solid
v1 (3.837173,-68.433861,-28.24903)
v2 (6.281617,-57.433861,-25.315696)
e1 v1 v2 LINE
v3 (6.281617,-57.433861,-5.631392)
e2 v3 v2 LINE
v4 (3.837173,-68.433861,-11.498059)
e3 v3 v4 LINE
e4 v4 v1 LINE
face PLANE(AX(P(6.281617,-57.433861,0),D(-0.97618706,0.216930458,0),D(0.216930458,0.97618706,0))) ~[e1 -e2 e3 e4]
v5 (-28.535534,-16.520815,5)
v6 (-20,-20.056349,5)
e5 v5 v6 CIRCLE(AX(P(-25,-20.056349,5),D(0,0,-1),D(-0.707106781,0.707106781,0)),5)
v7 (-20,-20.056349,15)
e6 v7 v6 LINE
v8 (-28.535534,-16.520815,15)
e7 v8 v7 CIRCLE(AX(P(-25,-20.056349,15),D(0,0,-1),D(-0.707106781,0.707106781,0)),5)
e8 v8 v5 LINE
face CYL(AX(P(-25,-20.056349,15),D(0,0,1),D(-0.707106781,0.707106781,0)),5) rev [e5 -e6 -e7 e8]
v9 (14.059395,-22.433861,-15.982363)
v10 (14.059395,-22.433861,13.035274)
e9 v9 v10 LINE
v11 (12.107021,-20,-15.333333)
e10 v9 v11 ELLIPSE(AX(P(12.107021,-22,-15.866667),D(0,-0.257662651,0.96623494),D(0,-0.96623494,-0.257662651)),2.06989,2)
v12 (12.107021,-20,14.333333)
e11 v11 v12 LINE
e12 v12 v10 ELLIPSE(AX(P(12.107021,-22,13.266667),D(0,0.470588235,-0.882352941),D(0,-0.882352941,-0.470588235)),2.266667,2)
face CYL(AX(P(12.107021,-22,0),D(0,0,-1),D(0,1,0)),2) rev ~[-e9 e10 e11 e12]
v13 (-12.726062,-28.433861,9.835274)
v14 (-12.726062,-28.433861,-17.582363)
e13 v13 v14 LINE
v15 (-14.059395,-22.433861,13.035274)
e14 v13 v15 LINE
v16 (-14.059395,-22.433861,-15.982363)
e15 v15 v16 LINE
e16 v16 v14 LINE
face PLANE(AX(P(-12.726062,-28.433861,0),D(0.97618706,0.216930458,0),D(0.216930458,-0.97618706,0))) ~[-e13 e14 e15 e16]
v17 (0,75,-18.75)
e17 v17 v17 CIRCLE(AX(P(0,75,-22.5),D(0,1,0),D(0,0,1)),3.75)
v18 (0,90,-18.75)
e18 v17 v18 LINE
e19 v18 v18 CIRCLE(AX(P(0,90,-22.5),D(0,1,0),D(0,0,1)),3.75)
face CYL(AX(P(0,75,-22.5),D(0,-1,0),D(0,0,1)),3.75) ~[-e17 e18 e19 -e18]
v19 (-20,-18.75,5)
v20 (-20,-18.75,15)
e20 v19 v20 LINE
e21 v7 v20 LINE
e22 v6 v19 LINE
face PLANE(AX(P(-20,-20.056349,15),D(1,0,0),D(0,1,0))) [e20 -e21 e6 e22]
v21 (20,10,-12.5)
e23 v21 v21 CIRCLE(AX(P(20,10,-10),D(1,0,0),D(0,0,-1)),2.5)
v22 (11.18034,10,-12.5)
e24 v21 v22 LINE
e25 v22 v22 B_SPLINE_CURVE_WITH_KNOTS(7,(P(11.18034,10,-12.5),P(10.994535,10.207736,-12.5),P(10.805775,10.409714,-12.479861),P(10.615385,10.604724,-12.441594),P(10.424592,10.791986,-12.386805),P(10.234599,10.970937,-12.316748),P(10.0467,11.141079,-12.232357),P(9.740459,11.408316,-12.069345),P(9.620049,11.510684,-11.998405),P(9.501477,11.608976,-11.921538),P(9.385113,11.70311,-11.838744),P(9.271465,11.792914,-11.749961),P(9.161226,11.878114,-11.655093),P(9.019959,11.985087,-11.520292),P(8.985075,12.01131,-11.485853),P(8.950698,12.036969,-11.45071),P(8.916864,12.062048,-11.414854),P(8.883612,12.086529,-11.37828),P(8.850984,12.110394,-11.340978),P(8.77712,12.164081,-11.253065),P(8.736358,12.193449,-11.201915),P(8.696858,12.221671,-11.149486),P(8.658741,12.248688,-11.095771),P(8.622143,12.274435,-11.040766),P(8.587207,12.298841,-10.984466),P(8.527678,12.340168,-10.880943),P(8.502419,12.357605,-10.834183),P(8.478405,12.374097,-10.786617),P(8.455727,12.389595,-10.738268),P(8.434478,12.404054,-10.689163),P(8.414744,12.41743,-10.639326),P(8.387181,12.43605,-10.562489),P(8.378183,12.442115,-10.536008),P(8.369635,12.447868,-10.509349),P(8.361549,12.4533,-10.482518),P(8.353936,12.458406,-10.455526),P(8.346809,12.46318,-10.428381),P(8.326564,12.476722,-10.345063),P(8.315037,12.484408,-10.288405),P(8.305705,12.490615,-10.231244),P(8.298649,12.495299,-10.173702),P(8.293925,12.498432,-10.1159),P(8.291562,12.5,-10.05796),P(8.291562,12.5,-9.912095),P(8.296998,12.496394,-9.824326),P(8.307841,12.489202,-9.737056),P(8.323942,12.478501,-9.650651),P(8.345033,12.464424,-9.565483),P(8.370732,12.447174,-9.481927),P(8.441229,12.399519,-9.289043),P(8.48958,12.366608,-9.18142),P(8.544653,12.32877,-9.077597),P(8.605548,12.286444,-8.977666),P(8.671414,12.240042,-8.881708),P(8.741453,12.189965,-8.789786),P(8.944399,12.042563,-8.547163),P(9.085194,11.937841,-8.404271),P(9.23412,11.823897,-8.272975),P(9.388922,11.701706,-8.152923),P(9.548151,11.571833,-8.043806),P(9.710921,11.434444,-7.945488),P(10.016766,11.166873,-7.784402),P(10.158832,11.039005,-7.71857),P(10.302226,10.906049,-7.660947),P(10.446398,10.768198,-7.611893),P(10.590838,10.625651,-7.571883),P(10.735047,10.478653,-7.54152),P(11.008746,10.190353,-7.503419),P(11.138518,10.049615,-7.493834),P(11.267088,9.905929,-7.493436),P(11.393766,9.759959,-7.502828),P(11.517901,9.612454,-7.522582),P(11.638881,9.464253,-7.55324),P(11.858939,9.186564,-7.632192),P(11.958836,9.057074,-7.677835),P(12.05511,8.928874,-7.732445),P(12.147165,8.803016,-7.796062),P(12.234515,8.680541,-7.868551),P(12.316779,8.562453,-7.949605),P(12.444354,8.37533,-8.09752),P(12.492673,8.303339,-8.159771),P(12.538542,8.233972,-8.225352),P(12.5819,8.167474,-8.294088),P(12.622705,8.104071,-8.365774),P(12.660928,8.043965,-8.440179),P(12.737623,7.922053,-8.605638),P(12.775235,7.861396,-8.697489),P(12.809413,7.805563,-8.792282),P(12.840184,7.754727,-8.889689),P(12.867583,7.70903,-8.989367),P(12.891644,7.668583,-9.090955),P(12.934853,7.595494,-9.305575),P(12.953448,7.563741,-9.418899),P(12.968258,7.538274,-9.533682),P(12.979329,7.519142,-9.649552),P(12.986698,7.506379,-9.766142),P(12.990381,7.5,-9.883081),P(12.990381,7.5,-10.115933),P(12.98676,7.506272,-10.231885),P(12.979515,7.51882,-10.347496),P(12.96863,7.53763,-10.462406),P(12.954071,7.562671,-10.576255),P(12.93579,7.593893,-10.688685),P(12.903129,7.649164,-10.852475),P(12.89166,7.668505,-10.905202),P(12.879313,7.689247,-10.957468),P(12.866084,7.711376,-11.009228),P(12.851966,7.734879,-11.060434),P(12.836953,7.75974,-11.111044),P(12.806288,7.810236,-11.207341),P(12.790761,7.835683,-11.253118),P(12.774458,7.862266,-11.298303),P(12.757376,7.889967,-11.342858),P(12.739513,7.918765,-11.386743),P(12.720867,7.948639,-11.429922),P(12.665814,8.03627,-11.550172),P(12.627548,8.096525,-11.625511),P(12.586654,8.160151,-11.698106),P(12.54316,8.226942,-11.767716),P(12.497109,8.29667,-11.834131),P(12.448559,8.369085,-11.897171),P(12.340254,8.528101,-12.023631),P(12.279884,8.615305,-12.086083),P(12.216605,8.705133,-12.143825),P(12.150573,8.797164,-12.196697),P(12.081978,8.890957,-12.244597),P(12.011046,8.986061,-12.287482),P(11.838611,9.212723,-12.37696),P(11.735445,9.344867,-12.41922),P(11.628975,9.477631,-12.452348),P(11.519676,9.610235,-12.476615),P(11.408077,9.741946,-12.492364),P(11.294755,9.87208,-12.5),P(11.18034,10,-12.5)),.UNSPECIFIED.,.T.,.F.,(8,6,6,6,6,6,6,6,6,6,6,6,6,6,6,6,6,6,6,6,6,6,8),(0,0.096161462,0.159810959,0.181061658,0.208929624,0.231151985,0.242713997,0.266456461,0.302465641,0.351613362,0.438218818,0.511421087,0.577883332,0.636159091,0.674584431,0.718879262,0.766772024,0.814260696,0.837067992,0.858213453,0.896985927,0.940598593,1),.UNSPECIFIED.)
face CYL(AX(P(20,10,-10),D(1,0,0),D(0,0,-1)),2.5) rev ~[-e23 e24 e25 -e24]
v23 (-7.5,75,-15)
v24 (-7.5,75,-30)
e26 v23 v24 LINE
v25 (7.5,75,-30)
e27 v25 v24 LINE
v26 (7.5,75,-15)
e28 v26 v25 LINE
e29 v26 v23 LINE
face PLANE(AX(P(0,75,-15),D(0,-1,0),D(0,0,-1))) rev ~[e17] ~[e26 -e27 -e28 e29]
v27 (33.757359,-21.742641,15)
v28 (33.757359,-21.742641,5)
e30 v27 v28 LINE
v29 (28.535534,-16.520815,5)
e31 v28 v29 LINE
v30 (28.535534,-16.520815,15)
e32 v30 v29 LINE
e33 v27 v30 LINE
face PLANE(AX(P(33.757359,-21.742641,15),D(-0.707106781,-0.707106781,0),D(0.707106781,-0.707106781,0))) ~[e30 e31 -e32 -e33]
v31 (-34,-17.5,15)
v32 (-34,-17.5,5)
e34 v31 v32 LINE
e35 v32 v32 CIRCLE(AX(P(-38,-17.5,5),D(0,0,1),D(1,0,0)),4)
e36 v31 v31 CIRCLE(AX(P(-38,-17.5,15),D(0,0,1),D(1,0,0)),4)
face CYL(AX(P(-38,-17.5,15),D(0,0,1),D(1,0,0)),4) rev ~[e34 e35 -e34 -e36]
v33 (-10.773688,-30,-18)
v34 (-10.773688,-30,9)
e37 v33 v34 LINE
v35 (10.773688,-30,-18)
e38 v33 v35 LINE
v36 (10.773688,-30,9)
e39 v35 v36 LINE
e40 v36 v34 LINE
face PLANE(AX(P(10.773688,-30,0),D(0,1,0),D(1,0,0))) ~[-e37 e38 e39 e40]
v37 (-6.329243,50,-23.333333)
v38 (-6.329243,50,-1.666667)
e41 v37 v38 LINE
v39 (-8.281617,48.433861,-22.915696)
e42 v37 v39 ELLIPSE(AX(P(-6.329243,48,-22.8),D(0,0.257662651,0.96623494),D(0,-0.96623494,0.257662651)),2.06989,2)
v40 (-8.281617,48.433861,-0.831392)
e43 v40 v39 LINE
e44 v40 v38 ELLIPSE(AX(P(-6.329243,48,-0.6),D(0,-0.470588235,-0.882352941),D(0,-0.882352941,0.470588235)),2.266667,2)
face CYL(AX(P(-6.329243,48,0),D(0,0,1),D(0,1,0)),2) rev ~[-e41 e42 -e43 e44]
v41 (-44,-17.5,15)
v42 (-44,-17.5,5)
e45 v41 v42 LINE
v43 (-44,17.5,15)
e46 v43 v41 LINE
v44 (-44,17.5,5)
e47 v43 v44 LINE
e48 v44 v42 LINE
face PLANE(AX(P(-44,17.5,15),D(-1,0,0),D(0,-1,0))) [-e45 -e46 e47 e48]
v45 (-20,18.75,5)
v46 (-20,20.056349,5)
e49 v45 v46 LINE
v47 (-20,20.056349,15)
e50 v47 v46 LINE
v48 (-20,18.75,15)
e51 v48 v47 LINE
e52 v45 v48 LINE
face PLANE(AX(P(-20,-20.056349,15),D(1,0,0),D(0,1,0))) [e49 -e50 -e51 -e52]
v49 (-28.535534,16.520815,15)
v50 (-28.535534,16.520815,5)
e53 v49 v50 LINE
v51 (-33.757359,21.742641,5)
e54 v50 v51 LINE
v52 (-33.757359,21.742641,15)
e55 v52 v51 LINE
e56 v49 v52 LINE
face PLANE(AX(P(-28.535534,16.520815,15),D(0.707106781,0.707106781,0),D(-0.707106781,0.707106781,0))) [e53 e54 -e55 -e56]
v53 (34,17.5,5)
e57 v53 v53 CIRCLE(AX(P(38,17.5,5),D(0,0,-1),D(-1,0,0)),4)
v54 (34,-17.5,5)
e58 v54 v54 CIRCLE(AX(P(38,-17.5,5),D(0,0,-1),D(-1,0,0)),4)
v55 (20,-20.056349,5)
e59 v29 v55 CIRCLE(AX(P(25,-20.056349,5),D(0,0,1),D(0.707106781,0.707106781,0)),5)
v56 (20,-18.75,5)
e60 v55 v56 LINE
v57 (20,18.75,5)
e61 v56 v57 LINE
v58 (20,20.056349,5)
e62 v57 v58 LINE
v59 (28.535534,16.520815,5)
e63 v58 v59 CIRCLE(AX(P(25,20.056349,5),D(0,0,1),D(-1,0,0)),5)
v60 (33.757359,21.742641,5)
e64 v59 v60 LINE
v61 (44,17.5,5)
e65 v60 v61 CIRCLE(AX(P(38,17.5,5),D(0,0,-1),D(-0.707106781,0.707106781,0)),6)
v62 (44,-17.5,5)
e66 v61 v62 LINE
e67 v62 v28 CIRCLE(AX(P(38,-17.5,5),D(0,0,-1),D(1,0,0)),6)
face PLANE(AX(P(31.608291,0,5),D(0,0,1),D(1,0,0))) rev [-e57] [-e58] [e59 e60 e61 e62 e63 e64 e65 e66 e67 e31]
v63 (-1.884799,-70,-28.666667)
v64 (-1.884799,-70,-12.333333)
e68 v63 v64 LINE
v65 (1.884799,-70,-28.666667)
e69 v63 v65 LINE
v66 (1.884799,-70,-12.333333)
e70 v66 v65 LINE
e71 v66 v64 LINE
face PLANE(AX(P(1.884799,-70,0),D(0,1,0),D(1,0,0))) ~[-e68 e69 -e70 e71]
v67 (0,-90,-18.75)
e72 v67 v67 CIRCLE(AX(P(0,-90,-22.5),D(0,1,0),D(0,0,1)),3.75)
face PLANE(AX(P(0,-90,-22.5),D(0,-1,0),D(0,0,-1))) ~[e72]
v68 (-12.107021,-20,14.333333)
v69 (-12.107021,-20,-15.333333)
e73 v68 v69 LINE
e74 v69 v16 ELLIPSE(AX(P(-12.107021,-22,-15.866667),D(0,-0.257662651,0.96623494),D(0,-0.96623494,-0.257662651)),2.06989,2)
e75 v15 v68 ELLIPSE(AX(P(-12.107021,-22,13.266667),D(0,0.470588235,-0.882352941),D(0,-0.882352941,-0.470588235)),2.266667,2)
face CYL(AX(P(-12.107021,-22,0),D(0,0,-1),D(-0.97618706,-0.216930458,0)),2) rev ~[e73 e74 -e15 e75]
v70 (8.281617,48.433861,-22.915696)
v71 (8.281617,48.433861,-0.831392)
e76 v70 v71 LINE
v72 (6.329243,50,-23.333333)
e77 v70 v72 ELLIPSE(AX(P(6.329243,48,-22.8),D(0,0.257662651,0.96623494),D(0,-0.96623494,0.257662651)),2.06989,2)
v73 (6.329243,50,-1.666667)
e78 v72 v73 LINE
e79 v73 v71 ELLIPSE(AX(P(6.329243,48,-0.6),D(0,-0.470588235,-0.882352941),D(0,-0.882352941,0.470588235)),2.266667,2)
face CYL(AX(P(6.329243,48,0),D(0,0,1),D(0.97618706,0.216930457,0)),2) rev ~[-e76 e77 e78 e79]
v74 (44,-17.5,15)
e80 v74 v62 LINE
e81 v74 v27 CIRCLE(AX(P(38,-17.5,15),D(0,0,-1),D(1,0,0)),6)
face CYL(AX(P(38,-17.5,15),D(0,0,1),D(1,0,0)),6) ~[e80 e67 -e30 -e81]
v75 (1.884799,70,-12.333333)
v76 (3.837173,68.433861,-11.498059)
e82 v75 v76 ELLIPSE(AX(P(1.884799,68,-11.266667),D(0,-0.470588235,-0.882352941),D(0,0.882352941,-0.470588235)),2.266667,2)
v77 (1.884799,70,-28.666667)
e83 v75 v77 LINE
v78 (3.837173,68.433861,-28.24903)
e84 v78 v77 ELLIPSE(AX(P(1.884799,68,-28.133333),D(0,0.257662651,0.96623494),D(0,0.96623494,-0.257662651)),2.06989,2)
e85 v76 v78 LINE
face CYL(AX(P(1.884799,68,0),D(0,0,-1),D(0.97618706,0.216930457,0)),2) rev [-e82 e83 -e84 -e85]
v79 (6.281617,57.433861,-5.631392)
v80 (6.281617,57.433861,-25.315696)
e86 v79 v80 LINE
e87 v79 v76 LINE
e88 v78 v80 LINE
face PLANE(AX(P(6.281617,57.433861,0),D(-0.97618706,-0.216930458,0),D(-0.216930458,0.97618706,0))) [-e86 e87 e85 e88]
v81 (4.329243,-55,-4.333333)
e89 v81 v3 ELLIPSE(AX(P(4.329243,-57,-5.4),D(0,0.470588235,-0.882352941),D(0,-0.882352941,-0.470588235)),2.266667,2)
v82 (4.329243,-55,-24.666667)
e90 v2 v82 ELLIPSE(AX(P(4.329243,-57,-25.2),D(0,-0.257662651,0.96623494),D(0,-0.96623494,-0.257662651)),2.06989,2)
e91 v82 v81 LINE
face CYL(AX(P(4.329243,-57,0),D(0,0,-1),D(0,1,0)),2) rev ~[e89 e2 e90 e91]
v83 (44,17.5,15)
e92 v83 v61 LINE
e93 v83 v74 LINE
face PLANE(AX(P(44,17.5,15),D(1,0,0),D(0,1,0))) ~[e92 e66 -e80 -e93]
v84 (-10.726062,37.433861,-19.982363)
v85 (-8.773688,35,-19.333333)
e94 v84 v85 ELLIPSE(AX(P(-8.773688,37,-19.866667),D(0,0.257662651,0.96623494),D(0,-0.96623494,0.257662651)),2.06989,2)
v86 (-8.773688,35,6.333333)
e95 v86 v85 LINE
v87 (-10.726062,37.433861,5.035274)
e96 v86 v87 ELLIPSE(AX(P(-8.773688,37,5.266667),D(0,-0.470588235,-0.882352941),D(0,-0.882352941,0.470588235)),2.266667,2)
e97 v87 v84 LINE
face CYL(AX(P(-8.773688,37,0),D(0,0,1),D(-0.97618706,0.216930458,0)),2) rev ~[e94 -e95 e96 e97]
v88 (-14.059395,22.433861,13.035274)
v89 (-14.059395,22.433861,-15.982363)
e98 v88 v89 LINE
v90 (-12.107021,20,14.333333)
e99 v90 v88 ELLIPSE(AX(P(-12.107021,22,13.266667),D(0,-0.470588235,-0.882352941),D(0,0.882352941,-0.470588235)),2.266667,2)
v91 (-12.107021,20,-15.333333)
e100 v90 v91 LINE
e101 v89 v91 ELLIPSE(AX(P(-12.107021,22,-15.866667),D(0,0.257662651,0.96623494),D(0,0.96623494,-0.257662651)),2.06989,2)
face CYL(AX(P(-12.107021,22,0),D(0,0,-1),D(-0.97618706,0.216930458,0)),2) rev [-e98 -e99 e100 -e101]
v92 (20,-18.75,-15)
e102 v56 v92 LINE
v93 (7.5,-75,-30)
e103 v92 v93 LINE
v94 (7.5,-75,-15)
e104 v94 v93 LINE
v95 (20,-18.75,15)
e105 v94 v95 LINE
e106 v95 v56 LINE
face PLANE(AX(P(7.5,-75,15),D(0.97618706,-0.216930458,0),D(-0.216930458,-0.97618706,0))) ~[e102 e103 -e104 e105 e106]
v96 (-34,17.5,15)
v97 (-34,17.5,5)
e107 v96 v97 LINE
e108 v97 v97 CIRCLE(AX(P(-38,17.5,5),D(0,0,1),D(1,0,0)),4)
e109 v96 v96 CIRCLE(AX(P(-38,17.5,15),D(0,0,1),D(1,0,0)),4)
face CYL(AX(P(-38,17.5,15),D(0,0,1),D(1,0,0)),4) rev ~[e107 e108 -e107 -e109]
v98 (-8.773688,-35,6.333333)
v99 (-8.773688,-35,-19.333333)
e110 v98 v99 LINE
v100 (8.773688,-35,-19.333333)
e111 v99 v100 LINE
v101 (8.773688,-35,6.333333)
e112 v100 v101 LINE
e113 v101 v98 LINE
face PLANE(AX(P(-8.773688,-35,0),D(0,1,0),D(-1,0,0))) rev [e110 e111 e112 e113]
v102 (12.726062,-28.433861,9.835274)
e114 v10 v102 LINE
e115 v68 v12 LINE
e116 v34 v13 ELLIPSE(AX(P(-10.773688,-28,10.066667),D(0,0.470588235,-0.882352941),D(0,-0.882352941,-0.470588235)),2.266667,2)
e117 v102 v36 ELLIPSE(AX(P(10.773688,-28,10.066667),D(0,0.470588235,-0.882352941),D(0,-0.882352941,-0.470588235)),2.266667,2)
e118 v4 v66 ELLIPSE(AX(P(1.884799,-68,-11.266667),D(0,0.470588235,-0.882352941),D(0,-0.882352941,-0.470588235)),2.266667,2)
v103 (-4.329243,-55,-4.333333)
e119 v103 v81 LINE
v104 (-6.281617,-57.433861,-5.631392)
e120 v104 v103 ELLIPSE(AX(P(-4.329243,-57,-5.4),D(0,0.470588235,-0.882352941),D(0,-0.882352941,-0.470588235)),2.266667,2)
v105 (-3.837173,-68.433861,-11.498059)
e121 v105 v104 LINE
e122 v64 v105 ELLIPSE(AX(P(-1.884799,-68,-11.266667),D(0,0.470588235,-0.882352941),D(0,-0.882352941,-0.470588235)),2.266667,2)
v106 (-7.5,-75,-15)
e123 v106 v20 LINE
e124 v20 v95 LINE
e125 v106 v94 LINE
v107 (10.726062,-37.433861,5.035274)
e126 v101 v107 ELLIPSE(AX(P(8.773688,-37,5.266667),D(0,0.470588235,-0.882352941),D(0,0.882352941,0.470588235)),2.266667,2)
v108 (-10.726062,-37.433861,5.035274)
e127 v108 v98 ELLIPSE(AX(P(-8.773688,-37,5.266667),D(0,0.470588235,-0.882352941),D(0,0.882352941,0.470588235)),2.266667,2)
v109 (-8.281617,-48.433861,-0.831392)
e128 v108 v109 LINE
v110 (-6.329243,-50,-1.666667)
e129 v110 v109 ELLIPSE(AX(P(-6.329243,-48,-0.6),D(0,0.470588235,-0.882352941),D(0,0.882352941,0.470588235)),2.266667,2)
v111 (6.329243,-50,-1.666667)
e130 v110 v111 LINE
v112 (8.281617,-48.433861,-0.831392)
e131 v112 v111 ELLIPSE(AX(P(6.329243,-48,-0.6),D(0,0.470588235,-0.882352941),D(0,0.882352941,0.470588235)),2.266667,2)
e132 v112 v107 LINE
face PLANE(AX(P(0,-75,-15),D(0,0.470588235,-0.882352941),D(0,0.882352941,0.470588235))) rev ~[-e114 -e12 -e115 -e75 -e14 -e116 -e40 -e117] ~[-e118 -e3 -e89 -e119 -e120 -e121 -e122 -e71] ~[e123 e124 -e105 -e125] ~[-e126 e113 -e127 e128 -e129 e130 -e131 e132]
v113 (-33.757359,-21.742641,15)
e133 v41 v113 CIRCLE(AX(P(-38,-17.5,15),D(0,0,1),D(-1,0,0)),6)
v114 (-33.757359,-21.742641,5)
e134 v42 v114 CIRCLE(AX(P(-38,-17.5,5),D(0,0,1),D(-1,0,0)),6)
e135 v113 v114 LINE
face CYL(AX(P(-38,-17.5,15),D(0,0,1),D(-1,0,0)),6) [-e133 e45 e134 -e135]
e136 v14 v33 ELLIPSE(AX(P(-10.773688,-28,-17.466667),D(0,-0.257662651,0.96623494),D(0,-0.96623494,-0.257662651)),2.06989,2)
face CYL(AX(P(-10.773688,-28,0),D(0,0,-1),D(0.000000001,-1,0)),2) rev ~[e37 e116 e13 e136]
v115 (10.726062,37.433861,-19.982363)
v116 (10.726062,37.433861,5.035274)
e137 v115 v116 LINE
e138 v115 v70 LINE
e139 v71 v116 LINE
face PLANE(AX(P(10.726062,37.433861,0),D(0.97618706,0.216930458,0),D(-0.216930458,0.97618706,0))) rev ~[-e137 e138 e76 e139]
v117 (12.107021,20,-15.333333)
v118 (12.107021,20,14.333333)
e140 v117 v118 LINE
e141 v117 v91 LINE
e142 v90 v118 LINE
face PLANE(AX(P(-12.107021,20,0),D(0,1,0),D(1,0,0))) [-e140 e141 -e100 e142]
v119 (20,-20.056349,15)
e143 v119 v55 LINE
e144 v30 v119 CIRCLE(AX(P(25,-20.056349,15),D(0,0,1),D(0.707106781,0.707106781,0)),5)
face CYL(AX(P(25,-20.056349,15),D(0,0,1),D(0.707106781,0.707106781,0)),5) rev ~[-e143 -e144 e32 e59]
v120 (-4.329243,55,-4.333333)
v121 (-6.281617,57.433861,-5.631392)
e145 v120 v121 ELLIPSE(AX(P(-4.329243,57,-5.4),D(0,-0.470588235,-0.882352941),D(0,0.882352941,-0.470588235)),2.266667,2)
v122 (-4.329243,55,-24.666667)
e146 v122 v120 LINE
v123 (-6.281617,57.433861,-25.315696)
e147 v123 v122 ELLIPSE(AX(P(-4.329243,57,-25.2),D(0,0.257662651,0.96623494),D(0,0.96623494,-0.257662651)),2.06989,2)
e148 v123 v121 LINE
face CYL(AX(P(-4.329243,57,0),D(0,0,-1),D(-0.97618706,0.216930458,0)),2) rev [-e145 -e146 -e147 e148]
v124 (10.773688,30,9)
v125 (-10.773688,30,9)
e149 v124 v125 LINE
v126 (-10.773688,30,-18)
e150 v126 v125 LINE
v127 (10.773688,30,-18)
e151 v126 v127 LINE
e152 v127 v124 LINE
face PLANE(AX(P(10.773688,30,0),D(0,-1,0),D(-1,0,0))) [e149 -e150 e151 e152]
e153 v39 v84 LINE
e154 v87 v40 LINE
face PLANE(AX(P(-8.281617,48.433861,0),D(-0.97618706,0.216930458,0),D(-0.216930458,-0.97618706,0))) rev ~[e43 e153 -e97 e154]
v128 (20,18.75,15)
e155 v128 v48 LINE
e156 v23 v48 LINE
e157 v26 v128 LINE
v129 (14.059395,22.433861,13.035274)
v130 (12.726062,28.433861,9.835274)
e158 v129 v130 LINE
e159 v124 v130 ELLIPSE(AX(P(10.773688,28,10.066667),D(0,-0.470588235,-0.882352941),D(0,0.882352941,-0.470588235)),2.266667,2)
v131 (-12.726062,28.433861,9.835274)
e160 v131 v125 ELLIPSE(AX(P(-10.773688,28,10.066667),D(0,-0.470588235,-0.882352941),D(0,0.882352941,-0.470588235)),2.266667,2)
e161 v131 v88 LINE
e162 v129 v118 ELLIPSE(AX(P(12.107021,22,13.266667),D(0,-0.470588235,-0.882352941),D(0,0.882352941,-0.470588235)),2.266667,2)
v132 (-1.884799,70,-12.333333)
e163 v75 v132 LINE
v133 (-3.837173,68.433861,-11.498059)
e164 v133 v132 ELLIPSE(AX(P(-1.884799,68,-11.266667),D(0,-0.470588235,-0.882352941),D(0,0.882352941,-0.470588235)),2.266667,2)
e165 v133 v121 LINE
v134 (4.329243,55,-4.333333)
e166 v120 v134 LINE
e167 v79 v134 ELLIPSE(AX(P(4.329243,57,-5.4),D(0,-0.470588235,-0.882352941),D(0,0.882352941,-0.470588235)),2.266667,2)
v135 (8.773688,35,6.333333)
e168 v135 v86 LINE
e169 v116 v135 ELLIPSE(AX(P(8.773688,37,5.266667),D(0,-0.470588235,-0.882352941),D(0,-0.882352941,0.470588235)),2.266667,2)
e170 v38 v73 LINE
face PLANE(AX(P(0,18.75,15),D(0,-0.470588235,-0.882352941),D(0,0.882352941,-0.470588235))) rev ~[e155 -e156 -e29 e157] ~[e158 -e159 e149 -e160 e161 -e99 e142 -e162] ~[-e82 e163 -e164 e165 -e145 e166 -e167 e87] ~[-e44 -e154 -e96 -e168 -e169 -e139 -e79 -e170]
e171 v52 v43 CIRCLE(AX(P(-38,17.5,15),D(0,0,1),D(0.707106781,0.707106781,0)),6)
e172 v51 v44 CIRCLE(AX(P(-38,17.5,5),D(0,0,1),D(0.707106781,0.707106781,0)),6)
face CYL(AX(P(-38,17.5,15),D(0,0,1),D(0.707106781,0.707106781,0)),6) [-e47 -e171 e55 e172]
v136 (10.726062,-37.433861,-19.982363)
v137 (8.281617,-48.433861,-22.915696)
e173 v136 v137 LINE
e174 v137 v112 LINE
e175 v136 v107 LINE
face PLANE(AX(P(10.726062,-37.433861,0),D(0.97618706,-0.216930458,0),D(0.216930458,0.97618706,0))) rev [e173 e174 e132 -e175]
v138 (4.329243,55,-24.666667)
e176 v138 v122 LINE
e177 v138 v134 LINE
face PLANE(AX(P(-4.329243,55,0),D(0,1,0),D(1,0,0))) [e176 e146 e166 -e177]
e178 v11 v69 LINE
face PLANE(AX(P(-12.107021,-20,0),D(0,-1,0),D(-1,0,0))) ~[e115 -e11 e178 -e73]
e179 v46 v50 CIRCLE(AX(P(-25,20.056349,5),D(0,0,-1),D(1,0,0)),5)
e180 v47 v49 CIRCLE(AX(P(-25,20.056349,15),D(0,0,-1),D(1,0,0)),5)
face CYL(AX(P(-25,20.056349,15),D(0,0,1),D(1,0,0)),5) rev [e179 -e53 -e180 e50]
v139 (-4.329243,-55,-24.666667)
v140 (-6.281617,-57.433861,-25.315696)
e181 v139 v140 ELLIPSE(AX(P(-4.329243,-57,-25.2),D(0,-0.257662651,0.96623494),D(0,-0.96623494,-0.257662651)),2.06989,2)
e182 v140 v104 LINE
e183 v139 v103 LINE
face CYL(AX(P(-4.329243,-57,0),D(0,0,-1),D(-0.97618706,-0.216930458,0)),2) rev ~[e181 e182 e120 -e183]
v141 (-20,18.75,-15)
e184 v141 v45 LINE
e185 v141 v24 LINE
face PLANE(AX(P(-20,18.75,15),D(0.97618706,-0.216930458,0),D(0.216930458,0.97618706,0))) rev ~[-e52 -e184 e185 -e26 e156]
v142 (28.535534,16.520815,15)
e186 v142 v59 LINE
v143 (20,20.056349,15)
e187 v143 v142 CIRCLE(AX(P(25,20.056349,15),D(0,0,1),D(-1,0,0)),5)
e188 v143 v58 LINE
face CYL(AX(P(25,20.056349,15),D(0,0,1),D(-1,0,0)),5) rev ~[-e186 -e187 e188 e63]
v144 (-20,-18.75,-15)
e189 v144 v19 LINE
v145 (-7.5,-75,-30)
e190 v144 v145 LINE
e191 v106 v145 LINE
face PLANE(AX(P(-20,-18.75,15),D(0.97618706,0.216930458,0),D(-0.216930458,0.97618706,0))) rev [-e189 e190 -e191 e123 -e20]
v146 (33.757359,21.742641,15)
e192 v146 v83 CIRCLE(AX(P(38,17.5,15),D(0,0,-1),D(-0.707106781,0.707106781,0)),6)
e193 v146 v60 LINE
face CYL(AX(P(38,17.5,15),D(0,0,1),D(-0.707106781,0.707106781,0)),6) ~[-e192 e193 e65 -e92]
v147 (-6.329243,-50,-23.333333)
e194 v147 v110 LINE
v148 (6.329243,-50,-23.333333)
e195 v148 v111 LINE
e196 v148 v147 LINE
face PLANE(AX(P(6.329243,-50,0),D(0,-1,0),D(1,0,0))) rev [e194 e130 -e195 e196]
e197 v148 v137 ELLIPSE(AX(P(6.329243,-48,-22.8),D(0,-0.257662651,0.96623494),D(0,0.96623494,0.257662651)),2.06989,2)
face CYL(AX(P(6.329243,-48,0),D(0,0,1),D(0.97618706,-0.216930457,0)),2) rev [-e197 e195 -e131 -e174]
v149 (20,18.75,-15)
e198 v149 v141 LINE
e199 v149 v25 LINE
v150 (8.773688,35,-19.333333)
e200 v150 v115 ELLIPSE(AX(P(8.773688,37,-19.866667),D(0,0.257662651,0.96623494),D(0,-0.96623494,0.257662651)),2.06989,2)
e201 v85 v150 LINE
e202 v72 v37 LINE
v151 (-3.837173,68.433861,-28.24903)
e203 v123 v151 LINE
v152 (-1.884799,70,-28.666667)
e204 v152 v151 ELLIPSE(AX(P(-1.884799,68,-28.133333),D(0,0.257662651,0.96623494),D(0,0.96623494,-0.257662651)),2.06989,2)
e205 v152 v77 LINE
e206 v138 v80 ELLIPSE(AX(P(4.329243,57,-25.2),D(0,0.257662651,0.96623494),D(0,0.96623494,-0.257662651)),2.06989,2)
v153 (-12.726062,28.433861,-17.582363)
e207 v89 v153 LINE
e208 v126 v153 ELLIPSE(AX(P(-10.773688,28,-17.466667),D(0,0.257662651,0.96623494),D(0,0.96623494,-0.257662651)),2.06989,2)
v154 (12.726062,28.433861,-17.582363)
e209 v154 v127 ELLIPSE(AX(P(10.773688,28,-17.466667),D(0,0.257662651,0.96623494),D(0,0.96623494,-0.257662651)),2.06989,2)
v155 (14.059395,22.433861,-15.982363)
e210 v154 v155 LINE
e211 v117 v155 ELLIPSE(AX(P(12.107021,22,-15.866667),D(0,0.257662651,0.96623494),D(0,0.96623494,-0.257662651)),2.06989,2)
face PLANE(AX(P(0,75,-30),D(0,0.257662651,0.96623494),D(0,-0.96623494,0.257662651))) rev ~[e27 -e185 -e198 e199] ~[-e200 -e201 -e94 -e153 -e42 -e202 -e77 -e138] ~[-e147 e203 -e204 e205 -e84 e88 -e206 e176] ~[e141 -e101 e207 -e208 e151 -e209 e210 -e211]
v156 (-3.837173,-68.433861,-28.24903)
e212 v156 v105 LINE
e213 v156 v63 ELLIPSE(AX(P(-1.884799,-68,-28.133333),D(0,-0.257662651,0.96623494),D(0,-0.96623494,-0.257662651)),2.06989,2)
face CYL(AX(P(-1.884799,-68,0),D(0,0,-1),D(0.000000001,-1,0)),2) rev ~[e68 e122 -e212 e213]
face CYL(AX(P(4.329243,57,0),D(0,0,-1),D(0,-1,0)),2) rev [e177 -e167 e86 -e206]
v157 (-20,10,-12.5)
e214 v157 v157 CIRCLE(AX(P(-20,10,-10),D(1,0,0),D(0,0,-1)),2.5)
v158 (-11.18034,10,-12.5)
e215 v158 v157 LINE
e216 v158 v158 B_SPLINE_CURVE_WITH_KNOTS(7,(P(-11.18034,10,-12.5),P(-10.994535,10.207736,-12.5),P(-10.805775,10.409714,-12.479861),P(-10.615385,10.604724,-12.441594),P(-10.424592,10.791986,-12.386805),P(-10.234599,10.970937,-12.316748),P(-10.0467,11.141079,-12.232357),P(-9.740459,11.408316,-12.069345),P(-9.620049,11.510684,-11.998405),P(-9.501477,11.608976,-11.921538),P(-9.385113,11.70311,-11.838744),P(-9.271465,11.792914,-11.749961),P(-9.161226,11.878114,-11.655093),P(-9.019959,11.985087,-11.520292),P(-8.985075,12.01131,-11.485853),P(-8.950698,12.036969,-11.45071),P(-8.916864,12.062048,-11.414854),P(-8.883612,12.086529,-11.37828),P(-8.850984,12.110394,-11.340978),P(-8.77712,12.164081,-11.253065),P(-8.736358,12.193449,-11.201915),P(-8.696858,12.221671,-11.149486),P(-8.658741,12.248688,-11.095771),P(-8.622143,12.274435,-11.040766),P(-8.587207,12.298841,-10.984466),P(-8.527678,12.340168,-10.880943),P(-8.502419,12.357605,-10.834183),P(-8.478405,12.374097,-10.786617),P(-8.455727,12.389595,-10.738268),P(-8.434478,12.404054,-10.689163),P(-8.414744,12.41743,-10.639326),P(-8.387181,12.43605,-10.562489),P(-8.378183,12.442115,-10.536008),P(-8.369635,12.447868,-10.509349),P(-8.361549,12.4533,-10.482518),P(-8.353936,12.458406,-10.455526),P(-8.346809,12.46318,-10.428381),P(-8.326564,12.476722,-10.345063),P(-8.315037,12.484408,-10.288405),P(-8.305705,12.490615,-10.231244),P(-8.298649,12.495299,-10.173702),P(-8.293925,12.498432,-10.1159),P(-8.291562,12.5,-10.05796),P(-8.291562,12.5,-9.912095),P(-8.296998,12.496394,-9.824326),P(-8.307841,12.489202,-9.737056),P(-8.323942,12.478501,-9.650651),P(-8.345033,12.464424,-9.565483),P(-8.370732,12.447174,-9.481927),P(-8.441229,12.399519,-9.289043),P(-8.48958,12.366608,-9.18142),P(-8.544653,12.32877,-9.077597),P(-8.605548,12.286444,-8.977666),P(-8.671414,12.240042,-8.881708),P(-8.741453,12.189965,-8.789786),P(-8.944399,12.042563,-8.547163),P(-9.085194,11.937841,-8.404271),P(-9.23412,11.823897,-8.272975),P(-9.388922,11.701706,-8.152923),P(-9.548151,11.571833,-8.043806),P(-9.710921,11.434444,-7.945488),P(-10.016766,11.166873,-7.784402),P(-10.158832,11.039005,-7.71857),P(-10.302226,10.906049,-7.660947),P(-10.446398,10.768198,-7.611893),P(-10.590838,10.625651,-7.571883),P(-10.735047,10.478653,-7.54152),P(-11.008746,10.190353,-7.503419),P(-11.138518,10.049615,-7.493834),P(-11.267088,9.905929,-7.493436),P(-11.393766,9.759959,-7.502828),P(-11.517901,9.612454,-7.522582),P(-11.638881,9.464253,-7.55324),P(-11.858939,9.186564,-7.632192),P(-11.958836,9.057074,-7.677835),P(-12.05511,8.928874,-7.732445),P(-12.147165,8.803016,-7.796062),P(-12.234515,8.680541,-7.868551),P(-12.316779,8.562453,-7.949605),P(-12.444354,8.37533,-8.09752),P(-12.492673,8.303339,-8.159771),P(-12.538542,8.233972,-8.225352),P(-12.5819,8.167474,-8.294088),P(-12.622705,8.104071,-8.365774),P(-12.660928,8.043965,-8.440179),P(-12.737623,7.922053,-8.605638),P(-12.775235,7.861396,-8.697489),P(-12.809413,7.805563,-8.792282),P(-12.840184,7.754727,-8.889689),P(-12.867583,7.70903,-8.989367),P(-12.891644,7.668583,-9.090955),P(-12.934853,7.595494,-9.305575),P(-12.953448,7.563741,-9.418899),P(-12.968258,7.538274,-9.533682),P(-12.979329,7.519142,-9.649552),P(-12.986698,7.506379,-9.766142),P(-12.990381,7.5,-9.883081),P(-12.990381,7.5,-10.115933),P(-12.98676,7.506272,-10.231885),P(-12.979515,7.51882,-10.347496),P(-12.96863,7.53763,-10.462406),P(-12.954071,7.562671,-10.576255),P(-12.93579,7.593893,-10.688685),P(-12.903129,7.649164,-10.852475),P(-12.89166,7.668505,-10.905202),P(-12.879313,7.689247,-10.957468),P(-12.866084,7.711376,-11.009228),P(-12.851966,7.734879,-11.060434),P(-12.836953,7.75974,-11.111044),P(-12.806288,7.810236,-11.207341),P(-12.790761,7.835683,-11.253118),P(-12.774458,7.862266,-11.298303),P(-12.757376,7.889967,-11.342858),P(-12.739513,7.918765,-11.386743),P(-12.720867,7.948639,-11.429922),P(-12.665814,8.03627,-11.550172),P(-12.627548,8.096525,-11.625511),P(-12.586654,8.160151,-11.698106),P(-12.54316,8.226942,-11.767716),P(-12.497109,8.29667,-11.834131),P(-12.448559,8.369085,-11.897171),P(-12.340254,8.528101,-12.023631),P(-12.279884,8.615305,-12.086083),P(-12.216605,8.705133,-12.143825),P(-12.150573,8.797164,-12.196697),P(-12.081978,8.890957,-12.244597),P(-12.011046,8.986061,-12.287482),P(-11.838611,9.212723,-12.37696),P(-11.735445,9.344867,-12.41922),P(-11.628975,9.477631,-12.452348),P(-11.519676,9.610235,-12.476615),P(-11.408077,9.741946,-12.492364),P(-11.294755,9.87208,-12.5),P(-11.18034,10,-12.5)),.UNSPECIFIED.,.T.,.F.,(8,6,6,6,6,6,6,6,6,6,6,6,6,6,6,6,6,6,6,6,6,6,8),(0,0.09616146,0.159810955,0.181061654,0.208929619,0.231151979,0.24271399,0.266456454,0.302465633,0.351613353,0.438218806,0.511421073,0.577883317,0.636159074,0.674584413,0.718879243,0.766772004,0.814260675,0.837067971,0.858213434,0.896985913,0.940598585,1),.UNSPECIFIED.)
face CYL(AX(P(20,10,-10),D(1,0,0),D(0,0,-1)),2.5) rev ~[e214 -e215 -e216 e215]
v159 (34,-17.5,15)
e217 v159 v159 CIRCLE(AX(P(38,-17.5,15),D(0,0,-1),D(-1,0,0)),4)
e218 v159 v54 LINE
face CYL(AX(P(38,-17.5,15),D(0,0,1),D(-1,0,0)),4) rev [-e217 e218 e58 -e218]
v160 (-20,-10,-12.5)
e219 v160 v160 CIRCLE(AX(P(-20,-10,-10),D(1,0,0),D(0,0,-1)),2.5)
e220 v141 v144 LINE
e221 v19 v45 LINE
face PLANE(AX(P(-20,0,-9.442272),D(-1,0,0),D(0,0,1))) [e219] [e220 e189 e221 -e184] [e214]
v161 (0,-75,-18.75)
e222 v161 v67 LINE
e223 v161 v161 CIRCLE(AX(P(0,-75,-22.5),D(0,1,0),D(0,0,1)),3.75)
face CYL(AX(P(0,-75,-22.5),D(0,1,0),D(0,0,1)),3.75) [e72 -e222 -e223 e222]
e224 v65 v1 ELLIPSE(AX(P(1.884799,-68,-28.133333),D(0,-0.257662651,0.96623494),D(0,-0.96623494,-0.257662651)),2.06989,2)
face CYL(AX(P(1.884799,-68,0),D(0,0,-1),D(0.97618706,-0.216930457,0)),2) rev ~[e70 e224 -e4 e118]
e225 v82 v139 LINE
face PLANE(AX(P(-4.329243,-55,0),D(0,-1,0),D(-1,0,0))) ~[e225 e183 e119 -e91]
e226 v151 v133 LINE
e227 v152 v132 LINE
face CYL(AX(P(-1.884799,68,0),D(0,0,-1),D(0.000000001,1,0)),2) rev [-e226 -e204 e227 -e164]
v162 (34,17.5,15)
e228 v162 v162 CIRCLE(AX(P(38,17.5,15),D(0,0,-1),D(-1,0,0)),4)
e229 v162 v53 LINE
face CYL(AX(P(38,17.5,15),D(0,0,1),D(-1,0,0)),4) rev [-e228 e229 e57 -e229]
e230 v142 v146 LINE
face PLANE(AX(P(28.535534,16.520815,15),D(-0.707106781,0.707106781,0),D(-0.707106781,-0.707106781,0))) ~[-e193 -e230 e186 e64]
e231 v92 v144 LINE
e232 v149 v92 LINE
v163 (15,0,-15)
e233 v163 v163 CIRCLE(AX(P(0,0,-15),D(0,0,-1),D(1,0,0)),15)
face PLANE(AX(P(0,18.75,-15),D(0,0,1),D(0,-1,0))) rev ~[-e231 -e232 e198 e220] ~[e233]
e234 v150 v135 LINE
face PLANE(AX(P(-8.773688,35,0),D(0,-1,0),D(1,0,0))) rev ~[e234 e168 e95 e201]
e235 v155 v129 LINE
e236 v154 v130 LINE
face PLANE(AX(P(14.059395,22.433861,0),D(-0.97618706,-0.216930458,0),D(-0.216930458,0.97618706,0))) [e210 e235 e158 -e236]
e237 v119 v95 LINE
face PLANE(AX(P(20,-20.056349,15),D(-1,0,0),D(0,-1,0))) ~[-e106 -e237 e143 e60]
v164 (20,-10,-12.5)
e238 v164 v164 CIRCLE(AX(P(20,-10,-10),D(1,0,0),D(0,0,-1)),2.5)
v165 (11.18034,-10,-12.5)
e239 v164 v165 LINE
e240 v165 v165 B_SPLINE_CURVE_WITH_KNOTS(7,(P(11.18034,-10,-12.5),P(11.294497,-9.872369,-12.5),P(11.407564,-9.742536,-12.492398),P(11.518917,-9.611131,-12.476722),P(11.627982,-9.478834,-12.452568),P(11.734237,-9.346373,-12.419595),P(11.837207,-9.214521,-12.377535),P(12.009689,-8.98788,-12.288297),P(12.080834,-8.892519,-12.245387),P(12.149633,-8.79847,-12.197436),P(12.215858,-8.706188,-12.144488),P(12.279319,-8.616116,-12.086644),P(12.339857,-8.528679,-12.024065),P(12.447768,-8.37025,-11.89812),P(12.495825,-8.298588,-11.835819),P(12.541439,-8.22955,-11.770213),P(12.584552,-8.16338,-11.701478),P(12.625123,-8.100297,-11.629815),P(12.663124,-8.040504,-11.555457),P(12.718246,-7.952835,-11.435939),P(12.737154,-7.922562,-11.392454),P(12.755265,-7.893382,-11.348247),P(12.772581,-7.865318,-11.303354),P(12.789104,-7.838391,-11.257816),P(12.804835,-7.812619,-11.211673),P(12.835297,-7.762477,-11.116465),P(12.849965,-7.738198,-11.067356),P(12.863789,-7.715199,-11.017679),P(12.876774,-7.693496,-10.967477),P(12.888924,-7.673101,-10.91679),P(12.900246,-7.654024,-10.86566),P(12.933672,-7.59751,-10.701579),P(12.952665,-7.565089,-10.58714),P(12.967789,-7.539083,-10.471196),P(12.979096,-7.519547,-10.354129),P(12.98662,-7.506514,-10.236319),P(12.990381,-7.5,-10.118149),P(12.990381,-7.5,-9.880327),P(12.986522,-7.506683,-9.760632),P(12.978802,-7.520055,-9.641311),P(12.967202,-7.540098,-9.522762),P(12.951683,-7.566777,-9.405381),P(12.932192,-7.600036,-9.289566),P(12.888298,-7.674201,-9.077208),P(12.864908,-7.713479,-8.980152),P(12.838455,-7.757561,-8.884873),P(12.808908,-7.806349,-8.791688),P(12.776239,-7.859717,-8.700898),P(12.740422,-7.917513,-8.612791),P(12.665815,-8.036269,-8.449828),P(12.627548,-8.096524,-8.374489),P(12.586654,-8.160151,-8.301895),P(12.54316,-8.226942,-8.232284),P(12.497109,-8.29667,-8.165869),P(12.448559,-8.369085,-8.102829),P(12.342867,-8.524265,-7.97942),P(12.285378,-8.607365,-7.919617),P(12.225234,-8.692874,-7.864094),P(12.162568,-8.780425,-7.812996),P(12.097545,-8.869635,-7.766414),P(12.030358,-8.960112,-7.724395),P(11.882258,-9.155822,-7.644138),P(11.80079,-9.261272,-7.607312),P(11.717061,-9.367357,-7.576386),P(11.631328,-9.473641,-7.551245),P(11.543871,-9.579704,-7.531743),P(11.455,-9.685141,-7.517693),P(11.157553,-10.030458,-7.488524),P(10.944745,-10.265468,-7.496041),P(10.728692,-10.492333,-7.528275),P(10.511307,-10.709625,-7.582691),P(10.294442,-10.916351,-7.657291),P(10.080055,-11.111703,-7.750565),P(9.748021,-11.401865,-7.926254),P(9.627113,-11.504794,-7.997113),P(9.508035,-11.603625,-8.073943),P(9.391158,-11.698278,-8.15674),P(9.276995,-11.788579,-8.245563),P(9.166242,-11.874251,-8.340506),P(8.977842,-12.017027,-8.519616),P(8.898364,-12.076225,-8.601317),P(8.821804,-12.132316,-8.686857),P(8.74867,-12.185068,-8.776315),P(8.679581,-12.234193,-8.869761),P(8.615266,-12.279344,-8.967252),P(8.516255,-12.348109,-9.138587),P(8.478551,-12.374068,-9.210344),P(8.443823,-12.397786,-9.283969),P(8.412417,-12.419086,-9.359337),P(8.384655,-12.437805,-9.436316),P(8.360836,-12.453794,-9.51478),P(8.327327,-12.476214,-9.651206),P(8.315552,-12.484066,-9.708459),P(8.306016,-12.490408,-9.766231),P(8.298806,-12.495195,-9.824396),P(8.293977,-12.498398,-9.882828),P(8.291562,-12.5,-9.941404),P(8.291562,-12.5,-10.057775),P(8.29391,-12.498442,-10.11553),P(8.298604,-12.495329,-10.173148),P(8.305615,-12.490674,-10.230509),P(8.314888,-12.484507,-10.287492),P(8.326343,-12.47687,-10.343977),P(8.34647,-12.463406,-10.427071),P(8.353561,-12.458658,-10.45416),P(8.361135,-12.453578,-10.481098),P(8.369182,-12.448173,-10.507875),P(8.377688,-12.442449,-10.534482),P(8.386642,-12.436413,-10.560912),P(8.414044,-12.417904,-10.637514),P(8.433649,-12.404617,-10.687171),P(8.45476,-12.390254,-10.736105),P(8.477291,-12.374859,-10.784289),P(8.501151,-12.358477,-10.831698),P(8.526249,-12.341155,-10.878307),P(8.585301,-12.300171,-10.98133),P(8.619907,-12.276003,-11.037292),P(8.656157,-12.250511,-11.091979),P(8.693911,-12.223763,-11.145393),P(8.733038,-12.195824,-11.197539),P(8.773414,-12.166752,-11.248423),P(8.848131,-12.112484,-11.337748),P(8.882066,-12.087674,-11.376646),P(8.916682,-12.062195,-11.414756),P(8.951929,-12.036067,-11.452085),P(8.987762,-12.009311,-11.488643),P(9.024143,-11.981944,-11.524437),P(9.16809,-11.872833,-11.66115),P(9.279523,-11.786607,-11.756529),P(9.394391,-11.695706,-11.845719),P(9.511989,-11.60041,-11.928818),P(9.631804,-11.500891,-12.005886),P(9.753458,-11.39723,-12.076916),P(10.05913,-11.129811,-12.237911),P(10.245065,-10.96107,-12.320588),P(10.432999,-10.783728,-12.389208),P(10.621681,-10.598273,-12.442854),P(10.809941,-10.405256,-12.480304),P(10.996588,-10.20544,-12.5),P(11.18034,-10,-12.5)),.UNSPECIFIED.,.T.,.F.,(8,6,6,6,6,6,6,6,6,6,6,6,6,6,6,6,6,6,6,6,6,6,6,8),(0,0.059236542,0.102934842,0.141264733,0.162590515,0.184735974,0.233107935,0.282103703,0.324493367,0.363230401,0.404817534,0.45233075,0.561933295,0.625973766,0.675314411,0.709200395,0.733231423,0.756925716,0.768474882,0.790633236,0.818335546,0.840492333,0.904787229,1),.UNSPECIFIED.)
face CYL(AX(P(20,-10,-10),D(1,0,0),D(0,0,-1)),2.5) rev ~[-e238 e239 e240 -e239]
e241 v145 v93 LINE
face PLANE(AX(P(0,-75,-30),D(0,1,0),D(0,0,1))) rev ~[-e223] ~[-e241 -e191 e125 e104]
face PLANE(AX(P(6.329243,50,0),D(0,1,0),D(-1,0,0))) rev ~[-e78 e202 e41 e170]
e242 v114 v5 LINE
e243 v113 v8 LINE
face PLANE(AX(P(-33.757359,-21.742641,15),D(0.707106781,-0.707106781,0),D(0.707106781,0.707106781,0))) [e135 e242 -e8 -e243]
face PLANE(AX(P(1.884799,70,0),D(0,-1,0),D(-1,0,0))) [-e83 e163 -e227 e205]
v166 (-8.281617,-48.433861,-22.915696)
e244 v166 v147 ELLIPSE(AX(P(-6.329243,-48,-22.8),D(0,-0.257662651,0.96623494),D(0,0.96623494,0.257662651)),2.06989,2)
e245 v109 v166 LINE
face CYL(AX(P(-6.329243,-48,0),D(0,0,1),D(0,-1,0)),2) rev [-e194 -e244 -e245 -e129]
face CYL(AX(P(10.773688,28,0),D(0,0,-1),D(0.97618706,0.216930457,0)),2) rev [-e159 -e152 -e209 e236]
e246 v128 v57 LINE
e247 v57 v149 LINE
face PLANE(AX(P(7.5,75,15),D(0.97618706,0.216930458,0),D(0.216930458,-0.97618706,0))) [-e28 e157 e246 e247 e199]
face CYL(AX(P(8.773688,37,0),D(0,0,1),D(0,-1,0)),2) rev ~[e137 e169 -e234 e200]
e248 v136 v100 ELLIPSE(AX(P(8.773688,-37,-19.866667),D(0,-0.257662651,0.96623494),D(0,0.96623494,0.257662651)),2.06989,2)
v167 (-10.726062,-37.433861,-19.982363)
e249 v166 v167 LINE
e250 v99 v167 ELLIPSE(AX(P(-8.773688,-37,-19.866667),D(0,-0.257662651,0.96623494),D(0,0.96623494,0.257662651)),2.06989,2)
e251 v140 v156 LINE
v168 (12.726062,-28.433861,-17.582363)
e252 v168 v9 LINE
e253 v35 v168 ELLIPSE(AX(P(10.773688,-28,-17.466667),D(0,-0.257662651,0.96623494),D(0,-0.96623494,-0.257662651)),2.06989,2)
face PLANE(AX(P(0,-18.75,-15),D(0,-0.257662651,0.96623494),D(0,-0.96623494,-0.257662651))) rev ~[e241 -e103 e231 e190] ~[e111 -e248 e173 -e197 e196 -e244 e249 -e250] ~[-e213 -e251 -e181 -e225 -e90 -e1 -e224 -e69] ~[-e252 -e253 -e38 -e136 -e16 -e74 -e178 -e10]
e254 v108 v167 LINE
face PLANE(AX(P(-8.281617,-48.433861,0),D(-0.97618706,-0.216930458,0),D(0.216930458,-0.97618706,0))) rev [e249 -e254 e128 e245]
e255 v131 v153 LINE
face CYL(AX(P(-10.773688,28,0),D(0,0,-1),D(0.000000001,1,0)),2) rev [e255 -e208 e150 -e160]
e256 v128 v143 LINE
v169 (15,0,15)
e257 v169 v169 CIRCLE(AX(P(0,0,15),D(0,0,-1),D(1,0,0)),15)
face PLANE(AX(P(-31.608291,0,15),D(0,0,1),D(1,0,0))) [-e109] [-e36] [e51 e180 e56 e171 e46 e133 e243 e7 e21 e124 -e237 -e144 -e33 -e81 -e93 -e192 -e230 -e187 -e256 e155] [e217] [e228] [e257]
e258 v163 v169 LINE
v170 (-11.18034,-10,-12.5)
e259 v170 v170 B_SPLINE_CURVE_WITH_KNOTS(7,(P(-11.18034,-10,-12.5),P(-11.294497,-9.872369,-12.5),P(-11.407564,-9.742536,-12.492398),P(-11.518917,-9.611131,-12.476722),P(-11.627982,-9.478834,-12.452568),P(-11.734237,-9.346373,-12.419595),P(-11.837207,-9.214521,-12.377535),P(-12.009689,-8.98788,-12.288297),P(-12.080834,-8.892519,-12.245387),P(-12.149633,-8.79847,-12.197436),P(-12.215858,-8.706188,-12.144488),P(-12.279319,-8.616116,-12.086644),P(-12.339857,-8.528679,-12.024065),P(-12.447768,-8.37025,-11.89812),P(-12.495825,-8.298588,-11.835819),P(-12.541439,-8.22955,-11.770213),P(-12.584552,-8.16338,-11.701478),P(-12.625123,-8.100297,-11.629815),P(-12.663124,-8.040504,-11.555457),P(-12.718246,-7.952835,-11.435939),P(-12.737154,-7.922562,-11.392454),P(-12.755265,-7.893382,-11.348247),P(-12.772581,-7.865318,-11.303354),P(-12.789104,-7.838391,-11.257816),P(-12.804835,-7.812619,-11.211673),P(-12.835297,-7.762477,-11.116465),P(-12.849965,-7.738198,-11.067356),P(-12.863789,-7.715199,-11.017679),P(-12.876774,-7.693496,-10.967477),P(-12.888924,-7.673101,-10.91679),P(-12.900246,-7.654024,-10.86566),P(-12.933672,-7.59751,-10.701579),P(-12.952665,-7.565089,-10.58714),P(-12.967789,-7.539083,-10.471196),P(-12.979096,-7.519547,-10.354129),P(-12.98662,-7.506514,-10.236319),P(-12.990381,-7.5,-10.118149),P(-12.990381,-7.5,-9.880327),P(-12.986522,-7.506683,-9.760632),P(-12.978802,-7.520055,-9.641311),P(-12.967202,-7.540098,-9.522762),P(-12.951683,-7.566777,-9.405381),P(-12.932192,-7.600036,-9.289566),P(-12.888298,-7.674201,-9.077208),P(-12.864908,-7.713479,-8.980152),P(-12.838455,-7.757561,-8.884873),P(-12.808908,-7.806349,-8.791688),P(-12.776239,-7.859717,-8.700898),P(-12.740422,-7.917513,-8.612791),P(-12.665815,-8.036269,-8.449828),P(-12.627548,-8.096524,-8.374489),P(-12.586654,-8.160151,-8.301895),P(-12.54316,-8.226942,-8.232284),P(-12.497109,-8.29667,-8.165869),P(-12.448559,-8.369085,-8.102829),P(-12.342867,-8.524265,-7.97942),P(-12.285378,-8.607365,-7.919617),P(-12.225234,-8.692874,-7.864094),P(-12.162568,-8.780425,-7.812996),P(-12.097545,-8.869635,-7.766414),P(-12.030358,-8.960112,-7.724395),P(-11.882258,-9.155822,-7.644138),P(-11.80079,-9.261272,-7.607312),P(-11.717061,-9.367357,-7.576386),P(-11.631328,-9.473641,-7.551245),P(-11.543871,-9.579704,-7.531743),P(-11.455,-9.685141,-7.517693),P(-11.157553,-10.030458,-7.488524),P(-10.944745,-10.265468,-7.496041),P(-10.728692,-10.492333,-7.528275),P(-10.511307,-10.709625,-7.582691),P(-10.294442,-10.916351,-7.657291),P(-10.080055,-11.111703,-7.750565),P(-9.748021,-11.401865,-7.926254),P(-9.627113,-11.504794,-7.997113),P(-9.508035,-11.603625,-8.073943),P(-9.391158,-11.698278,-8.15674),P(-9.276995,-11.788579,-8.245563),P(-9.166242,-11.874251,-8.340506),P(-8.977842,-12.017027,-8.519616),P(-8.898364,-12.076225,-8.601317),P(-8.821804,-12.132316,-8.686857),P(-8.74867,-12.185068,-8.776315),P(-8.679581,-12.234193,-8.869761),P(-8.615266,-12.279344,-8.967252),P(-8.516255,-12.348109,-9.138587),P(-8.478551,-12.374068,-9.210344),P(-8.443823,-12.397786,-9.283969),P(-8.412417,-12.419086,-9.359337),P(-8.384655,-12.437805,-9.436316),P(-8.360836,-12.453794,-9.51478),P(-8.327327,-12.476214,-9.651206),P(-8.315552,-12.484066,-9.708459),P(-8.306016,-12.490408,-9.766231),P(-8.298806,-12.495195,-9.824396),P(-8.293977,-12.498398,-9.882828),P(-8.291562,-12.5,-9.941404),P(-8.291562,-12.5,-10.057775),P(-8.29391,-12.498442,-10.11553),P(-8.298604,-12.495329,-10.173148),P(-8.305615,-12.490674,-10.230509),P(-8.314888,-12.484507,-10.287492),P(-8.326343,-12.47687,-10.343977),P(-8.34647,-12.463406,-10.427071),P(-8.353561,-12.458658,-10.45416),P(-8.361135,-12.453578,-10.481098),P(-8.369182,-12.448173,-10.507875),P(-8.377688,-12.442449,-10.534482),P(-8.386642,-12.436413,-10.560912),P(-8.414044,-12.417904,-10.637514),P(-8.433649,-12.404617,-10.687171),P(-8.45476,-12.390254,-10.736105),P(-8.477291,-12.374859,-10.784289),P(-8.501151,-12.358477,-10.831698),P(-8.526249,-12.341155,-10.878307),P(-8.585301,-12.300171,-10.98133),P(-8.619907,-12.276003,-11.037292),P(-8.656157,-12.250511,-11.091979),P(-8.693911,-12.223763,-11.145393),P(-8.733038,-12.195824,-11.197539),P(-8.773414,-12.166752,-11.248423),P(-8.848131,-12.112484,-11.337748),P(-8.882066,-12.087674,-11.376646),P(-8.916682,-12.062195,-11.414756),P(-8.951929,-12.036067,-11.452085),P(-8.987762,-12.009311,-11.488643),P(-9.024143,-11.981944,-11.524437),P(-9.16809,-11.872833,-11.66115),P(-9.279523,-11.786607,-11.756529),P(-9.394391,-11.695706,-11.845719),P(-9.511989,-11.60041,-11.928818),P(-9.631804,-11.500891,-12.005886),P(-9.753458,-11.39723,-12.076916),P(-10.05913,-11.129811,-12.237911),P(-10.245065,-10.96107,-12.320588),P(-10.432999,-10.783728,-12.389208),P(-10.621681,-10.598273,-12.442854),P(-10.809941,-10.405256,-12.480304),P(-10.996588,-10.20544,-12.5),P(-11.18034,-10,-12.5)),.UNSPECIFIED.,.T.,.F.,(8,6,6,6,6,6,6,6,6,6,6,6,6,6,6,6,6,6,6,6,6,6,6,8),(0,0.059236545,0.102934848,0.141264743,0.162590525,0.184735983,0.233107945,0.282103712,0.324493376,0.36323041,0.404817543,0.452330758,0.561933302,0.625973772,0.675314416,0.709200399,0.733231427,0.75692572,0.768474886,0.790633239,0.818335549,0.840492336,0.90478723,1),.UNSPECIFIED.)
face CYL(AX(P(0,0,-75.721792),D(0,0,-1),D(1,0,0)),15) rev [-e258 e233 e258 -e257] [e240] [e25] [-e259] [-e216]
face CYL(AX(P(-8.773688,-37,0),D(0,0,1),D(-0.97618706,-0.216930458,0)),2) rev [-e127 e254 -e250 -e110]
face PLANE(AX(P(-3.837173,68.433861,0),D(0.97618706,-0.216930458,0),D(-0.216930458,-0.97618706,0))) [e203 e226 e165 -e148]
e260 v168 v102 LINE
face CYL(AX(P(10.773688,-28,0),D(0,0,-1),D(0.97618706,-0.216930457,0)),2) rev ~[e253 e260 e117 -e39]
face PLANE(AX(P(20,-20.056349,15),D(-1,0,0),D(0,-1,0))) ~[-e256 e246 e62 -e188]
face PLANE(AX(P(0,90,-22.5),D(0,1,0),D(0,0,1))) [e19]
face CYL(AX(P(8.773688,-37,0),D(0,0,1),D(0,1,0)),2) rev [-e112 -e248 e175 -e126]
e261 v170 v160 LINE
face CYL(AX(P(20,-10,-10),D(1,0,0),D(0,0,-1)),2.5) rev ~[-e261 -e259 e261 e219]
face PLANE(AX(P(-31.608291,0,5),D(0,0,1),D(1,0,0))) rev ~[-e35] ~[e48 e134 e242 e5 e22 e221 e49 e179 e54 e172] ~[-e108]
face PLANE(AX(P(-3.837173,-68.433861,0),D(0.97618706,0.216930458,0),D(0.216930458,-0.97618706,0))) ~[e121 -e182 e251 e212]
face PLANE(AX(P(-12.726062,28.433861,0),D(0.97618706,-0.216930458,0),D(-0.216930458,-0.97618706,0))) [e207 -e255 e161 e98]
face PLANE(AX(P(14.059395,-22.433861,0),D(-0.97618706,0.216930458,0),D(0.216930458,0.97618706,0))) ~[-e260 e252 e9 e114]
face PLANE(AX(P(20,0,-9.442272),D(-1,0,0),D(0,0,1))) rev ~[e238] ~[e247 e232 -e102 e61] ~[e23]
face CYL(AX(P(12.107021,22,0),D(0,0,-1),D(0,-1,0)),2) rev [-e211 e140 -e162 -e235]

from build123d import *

# Parameters (mm, degrees)
BOSS_EXTRUDE1_DEPTH     = 20
CUT_EXTRUDE1_DEPTH      = 90.721792225
CUT_EXTRUDE1_DEPTH_BACK = 90.721792225
SKETCH2_R               = 15
SKETCH3_R               = 4
BOSS_EXTRUDE2_DEPTH     = 10
SKETCH5_R               = 3.75
BOSS_EXTRUDE3_DEPTH     = 15
CUT_EXTRUDE2_DEPTH      = 110.822584198
CUT_EXTRUDE3_DEPTH      = 105.575331699
SKETCH8_R               = 2.5
CUT_EXTRUDE4_DEPTH      = 115.437756007


with BuildPart() as part:
    # Sketch1 → Boss-Extrude1 (new, symmetric)
    with BuildSketch(Plane(origin=(0, 0, 0), x_dir=(0, 0, -1), z_dir=(1, 0, 0))):
        Polygon((-15, -18.75), (-15, 18.75), (15, 75), (30, 75), (15, 18.75), (15, -18.75), (30, -75), (15, -75), align=None)
    extrude(amount=BOSS_EXTRUDE1_DEPTH, both=True)

    # Sketch2 → Cut-Extrude1 (cut, two sides: drawn at the far end of the back side and taken through both)
    with BuildSketch(Plane.XY.offset(15).offset(-CUT_EXTRUDE1_DEPTH_BACK)):
        Circle(SKETCH2_R)
    extrude(amount=CUT_EXTRUDE1_DEPTH + CUT_EXTRUDE1_DEPTH_BACK, mode=Mode.SUBTRACT)

    # Sketch5 → Boss-Extrude3 (add)
    with BuildSketch(Plane(origin=(0, 75, 0), x_dir=(1, 0, 0), z_dir=(0, 1, 0))):
        with Locations(Location((0, 22.5, 0), (0, 0, 270))):
            Circle(SKETCH5_R)
    boss_extrude3 = extrude(amount=BOSS_EXTRUDE3_DEPTH)

    # Mirror1: Boss-Extrude3 across plane
    add(boss_extrude3.mirror(Plane.ZX))

    # Sketch6 → Cut-Extrude2 (cut, symmetric)
    with BuildSketch(Plane.XY.offset(15)):
        Polygon((20, 18.75), (20, 75), (7.5, 75), align=None)
        Polygon((-20, 75), (-20, 18.75), (-7.5, 75), align=None)
    cut_extrude2 = extrude(amount=CUT_EXTRUDE2_DEPTH, both=True, mode=Mode.SUBTRACT)

    # Mirror2: Cut-Extrude2 across plane
    add(cut_extrude2.mirror(Plane.ZX), mode=Mode.SUBTRACT)

    # Sketch7 → Cut-Extrude3 (cut, symmetric)
    with BuildSketch(Plane.XY):
        with BuildLine():
            Line((-12.107020978, 20), (12.107020978, 20))
            ThreePointArc((12.107020978, 20), (13.667104602, 20.748545213), (14.059395098, 22.433860916))
            Line((14.059395098, 22.433860916), (12.726061765, 28.433860916))
            ThreePointArc((12.726061765, 28.433860916), (12.025142432, 29.560083625), (10.773687644, 30))
            Line((10.773687644, 30), (-10.773687644, 30))
            ThreePointArc((-10.773687644, 30), (-12.025142432, 29.560083625), (-12.726061765, 28.433860916))
            Line((-12.726061765, 28.433860916), (-14.059395098, 22.433860916))
            ThreePointArc((-14.059395098, 22.433860916), (-13.667104602, 20.748545213), (-12.107020978, 20))
        make_face()
        with BuildLine():
            Line((1.884798755, 70), (-1.884798755, 70))
            ThreePointArc((-1.884798755, 70), (-3.136253543, 69.560083625), (-3.837172876, 68.433860916))
            Line((-3.837172876, 68.433860916), (-6.28161732, 57.433860916))
            ThreePointArc((-6.28161732, 57.433860916), (-5.889326824, 55.748545213), (-4.3292432, 55))
            Line((-4.3292432, 55), (4.3292432, 55))
            ThreePointArc((4.3292432, 55), (5.889326824, 55.748545213), (6.28161732, 57.433860916))
            Line((6.28161732, 57.433860916), (3.837172876, 68.433860916))
            ThreePointArc((3.837172876, 68.433860916), (3.136253543, 69.560083625), (1.884798755, 70))
        make_face()
        with BuildLine():
            Line((-8.773687644, 35), (8.773687644, 35))
            ThreePointArc((8.773687644, 35), (10.333771269, 35.748545213), (10.726061765, 37.433860916))
            Line((10.726061765, 37.433860916), (8.28161732, 48.433860916))
            ThreePointArc((8.28161732, 48.433860916), (7.580697987, 49.560083625), (6.3292432, 50))
            Line((6.3292432, 50), (-6.3292432, 50))
            ThreePointArc((-6.3292432, 50), (-7.580697987, 49.560083625), (-8.28161732, 48.433860916))
            Line((-8.28161732, 48.433860916), (-10.726061765, 37.433860916))
            ThreePointArc((-10.726061765, 37.433860916), (-10.333771269, 35.748545213), (-8.773687644, 35))
        make_face()
    cut_extrude3 = extrude(amount=CUT_EXTRUDE3_DEPTH, both=True, mode=Mode.SUBTRACT)

    # Mirror3: Cut-Extrude3 across plane
    add(cut_extrude3.mirror(Plane.ZX), mode=Mode.SUBTRACT)


with BuildPart() as body_2:
    # Sketch3 → Boss-Extrude2 (new body)
    with BuildSketch(Plane.XY.offset(15)):
        with BuildLine():
            ThreePointArc((-20, 20.056349186), (-23.086582838, 15.436951524), (-28.535533906, 16.52081528))
            Line((-28.535533906, 16.52081528), (-33.757359313, 21.742640687))
            ThreePointArc((-33.757359313, 21.742640687), (-40.296100594, 23.043277195), (-44, 17.5))
            Line((-44, 17.5), (-44, -17.5))
            ThreePointArc((-44, -17.5), (-40.296100594, -23.043277195), (-33.757359313, -21.742640687))
            Line((-33.757359313, -21.742640687), (-28.535533906, -16.52081528))
            ThreePointArc((-28.535533906, -16.52081528), (-23.086582838, -15.436951524), (-20, -20.056349186))
            Line((-20, -20.056349186), (-20, -18.75))
            Line((-20, -18.75), (-20, 18.75))
            Line((-20, 18.75), (-20, 20.056349186))
        make_face()
        with Locations((-38, -17.5)):
            Circle(SKETCH3_R, mode=Mode.SUBTRACT)
        with Locations((-38, 17.5)):
            Circle(SKETCH3_R, mode=Mode.SUBTRACT)
    boss_extrude2 = extrude(amount=-BOSS_EXTRUDE2_DEPTH)


with BuildPart() as part_1:
    add(part.part)

    # Mirror6: Boss-Extrude2 across plane
    add(boss_extrude2.mirror(Plane(origin=(0, 0, 0), x_dir=(0, 0, 1), z_dir=(1, 0, 0))))

    # Combine1: union body 2
    add(body_2.part)

    # Sketch8 → Cut-Extrude4 (cut, through all)
    with BuildSketch(Plane(origin=(20, 0, 0), x_dir=(0, 0, -1), z_dir=(1, 0, 0))):
        with Locations((10, 10)):
            Circle(SKETCH8_R)
        with Locations((10, -10)):
            Circle(SKETCH8_R)
    extrude(amount=-CUT_EXTRUDE4_DEPTH, mode=Mode.SUBTRACT)


solid = part_1.part
